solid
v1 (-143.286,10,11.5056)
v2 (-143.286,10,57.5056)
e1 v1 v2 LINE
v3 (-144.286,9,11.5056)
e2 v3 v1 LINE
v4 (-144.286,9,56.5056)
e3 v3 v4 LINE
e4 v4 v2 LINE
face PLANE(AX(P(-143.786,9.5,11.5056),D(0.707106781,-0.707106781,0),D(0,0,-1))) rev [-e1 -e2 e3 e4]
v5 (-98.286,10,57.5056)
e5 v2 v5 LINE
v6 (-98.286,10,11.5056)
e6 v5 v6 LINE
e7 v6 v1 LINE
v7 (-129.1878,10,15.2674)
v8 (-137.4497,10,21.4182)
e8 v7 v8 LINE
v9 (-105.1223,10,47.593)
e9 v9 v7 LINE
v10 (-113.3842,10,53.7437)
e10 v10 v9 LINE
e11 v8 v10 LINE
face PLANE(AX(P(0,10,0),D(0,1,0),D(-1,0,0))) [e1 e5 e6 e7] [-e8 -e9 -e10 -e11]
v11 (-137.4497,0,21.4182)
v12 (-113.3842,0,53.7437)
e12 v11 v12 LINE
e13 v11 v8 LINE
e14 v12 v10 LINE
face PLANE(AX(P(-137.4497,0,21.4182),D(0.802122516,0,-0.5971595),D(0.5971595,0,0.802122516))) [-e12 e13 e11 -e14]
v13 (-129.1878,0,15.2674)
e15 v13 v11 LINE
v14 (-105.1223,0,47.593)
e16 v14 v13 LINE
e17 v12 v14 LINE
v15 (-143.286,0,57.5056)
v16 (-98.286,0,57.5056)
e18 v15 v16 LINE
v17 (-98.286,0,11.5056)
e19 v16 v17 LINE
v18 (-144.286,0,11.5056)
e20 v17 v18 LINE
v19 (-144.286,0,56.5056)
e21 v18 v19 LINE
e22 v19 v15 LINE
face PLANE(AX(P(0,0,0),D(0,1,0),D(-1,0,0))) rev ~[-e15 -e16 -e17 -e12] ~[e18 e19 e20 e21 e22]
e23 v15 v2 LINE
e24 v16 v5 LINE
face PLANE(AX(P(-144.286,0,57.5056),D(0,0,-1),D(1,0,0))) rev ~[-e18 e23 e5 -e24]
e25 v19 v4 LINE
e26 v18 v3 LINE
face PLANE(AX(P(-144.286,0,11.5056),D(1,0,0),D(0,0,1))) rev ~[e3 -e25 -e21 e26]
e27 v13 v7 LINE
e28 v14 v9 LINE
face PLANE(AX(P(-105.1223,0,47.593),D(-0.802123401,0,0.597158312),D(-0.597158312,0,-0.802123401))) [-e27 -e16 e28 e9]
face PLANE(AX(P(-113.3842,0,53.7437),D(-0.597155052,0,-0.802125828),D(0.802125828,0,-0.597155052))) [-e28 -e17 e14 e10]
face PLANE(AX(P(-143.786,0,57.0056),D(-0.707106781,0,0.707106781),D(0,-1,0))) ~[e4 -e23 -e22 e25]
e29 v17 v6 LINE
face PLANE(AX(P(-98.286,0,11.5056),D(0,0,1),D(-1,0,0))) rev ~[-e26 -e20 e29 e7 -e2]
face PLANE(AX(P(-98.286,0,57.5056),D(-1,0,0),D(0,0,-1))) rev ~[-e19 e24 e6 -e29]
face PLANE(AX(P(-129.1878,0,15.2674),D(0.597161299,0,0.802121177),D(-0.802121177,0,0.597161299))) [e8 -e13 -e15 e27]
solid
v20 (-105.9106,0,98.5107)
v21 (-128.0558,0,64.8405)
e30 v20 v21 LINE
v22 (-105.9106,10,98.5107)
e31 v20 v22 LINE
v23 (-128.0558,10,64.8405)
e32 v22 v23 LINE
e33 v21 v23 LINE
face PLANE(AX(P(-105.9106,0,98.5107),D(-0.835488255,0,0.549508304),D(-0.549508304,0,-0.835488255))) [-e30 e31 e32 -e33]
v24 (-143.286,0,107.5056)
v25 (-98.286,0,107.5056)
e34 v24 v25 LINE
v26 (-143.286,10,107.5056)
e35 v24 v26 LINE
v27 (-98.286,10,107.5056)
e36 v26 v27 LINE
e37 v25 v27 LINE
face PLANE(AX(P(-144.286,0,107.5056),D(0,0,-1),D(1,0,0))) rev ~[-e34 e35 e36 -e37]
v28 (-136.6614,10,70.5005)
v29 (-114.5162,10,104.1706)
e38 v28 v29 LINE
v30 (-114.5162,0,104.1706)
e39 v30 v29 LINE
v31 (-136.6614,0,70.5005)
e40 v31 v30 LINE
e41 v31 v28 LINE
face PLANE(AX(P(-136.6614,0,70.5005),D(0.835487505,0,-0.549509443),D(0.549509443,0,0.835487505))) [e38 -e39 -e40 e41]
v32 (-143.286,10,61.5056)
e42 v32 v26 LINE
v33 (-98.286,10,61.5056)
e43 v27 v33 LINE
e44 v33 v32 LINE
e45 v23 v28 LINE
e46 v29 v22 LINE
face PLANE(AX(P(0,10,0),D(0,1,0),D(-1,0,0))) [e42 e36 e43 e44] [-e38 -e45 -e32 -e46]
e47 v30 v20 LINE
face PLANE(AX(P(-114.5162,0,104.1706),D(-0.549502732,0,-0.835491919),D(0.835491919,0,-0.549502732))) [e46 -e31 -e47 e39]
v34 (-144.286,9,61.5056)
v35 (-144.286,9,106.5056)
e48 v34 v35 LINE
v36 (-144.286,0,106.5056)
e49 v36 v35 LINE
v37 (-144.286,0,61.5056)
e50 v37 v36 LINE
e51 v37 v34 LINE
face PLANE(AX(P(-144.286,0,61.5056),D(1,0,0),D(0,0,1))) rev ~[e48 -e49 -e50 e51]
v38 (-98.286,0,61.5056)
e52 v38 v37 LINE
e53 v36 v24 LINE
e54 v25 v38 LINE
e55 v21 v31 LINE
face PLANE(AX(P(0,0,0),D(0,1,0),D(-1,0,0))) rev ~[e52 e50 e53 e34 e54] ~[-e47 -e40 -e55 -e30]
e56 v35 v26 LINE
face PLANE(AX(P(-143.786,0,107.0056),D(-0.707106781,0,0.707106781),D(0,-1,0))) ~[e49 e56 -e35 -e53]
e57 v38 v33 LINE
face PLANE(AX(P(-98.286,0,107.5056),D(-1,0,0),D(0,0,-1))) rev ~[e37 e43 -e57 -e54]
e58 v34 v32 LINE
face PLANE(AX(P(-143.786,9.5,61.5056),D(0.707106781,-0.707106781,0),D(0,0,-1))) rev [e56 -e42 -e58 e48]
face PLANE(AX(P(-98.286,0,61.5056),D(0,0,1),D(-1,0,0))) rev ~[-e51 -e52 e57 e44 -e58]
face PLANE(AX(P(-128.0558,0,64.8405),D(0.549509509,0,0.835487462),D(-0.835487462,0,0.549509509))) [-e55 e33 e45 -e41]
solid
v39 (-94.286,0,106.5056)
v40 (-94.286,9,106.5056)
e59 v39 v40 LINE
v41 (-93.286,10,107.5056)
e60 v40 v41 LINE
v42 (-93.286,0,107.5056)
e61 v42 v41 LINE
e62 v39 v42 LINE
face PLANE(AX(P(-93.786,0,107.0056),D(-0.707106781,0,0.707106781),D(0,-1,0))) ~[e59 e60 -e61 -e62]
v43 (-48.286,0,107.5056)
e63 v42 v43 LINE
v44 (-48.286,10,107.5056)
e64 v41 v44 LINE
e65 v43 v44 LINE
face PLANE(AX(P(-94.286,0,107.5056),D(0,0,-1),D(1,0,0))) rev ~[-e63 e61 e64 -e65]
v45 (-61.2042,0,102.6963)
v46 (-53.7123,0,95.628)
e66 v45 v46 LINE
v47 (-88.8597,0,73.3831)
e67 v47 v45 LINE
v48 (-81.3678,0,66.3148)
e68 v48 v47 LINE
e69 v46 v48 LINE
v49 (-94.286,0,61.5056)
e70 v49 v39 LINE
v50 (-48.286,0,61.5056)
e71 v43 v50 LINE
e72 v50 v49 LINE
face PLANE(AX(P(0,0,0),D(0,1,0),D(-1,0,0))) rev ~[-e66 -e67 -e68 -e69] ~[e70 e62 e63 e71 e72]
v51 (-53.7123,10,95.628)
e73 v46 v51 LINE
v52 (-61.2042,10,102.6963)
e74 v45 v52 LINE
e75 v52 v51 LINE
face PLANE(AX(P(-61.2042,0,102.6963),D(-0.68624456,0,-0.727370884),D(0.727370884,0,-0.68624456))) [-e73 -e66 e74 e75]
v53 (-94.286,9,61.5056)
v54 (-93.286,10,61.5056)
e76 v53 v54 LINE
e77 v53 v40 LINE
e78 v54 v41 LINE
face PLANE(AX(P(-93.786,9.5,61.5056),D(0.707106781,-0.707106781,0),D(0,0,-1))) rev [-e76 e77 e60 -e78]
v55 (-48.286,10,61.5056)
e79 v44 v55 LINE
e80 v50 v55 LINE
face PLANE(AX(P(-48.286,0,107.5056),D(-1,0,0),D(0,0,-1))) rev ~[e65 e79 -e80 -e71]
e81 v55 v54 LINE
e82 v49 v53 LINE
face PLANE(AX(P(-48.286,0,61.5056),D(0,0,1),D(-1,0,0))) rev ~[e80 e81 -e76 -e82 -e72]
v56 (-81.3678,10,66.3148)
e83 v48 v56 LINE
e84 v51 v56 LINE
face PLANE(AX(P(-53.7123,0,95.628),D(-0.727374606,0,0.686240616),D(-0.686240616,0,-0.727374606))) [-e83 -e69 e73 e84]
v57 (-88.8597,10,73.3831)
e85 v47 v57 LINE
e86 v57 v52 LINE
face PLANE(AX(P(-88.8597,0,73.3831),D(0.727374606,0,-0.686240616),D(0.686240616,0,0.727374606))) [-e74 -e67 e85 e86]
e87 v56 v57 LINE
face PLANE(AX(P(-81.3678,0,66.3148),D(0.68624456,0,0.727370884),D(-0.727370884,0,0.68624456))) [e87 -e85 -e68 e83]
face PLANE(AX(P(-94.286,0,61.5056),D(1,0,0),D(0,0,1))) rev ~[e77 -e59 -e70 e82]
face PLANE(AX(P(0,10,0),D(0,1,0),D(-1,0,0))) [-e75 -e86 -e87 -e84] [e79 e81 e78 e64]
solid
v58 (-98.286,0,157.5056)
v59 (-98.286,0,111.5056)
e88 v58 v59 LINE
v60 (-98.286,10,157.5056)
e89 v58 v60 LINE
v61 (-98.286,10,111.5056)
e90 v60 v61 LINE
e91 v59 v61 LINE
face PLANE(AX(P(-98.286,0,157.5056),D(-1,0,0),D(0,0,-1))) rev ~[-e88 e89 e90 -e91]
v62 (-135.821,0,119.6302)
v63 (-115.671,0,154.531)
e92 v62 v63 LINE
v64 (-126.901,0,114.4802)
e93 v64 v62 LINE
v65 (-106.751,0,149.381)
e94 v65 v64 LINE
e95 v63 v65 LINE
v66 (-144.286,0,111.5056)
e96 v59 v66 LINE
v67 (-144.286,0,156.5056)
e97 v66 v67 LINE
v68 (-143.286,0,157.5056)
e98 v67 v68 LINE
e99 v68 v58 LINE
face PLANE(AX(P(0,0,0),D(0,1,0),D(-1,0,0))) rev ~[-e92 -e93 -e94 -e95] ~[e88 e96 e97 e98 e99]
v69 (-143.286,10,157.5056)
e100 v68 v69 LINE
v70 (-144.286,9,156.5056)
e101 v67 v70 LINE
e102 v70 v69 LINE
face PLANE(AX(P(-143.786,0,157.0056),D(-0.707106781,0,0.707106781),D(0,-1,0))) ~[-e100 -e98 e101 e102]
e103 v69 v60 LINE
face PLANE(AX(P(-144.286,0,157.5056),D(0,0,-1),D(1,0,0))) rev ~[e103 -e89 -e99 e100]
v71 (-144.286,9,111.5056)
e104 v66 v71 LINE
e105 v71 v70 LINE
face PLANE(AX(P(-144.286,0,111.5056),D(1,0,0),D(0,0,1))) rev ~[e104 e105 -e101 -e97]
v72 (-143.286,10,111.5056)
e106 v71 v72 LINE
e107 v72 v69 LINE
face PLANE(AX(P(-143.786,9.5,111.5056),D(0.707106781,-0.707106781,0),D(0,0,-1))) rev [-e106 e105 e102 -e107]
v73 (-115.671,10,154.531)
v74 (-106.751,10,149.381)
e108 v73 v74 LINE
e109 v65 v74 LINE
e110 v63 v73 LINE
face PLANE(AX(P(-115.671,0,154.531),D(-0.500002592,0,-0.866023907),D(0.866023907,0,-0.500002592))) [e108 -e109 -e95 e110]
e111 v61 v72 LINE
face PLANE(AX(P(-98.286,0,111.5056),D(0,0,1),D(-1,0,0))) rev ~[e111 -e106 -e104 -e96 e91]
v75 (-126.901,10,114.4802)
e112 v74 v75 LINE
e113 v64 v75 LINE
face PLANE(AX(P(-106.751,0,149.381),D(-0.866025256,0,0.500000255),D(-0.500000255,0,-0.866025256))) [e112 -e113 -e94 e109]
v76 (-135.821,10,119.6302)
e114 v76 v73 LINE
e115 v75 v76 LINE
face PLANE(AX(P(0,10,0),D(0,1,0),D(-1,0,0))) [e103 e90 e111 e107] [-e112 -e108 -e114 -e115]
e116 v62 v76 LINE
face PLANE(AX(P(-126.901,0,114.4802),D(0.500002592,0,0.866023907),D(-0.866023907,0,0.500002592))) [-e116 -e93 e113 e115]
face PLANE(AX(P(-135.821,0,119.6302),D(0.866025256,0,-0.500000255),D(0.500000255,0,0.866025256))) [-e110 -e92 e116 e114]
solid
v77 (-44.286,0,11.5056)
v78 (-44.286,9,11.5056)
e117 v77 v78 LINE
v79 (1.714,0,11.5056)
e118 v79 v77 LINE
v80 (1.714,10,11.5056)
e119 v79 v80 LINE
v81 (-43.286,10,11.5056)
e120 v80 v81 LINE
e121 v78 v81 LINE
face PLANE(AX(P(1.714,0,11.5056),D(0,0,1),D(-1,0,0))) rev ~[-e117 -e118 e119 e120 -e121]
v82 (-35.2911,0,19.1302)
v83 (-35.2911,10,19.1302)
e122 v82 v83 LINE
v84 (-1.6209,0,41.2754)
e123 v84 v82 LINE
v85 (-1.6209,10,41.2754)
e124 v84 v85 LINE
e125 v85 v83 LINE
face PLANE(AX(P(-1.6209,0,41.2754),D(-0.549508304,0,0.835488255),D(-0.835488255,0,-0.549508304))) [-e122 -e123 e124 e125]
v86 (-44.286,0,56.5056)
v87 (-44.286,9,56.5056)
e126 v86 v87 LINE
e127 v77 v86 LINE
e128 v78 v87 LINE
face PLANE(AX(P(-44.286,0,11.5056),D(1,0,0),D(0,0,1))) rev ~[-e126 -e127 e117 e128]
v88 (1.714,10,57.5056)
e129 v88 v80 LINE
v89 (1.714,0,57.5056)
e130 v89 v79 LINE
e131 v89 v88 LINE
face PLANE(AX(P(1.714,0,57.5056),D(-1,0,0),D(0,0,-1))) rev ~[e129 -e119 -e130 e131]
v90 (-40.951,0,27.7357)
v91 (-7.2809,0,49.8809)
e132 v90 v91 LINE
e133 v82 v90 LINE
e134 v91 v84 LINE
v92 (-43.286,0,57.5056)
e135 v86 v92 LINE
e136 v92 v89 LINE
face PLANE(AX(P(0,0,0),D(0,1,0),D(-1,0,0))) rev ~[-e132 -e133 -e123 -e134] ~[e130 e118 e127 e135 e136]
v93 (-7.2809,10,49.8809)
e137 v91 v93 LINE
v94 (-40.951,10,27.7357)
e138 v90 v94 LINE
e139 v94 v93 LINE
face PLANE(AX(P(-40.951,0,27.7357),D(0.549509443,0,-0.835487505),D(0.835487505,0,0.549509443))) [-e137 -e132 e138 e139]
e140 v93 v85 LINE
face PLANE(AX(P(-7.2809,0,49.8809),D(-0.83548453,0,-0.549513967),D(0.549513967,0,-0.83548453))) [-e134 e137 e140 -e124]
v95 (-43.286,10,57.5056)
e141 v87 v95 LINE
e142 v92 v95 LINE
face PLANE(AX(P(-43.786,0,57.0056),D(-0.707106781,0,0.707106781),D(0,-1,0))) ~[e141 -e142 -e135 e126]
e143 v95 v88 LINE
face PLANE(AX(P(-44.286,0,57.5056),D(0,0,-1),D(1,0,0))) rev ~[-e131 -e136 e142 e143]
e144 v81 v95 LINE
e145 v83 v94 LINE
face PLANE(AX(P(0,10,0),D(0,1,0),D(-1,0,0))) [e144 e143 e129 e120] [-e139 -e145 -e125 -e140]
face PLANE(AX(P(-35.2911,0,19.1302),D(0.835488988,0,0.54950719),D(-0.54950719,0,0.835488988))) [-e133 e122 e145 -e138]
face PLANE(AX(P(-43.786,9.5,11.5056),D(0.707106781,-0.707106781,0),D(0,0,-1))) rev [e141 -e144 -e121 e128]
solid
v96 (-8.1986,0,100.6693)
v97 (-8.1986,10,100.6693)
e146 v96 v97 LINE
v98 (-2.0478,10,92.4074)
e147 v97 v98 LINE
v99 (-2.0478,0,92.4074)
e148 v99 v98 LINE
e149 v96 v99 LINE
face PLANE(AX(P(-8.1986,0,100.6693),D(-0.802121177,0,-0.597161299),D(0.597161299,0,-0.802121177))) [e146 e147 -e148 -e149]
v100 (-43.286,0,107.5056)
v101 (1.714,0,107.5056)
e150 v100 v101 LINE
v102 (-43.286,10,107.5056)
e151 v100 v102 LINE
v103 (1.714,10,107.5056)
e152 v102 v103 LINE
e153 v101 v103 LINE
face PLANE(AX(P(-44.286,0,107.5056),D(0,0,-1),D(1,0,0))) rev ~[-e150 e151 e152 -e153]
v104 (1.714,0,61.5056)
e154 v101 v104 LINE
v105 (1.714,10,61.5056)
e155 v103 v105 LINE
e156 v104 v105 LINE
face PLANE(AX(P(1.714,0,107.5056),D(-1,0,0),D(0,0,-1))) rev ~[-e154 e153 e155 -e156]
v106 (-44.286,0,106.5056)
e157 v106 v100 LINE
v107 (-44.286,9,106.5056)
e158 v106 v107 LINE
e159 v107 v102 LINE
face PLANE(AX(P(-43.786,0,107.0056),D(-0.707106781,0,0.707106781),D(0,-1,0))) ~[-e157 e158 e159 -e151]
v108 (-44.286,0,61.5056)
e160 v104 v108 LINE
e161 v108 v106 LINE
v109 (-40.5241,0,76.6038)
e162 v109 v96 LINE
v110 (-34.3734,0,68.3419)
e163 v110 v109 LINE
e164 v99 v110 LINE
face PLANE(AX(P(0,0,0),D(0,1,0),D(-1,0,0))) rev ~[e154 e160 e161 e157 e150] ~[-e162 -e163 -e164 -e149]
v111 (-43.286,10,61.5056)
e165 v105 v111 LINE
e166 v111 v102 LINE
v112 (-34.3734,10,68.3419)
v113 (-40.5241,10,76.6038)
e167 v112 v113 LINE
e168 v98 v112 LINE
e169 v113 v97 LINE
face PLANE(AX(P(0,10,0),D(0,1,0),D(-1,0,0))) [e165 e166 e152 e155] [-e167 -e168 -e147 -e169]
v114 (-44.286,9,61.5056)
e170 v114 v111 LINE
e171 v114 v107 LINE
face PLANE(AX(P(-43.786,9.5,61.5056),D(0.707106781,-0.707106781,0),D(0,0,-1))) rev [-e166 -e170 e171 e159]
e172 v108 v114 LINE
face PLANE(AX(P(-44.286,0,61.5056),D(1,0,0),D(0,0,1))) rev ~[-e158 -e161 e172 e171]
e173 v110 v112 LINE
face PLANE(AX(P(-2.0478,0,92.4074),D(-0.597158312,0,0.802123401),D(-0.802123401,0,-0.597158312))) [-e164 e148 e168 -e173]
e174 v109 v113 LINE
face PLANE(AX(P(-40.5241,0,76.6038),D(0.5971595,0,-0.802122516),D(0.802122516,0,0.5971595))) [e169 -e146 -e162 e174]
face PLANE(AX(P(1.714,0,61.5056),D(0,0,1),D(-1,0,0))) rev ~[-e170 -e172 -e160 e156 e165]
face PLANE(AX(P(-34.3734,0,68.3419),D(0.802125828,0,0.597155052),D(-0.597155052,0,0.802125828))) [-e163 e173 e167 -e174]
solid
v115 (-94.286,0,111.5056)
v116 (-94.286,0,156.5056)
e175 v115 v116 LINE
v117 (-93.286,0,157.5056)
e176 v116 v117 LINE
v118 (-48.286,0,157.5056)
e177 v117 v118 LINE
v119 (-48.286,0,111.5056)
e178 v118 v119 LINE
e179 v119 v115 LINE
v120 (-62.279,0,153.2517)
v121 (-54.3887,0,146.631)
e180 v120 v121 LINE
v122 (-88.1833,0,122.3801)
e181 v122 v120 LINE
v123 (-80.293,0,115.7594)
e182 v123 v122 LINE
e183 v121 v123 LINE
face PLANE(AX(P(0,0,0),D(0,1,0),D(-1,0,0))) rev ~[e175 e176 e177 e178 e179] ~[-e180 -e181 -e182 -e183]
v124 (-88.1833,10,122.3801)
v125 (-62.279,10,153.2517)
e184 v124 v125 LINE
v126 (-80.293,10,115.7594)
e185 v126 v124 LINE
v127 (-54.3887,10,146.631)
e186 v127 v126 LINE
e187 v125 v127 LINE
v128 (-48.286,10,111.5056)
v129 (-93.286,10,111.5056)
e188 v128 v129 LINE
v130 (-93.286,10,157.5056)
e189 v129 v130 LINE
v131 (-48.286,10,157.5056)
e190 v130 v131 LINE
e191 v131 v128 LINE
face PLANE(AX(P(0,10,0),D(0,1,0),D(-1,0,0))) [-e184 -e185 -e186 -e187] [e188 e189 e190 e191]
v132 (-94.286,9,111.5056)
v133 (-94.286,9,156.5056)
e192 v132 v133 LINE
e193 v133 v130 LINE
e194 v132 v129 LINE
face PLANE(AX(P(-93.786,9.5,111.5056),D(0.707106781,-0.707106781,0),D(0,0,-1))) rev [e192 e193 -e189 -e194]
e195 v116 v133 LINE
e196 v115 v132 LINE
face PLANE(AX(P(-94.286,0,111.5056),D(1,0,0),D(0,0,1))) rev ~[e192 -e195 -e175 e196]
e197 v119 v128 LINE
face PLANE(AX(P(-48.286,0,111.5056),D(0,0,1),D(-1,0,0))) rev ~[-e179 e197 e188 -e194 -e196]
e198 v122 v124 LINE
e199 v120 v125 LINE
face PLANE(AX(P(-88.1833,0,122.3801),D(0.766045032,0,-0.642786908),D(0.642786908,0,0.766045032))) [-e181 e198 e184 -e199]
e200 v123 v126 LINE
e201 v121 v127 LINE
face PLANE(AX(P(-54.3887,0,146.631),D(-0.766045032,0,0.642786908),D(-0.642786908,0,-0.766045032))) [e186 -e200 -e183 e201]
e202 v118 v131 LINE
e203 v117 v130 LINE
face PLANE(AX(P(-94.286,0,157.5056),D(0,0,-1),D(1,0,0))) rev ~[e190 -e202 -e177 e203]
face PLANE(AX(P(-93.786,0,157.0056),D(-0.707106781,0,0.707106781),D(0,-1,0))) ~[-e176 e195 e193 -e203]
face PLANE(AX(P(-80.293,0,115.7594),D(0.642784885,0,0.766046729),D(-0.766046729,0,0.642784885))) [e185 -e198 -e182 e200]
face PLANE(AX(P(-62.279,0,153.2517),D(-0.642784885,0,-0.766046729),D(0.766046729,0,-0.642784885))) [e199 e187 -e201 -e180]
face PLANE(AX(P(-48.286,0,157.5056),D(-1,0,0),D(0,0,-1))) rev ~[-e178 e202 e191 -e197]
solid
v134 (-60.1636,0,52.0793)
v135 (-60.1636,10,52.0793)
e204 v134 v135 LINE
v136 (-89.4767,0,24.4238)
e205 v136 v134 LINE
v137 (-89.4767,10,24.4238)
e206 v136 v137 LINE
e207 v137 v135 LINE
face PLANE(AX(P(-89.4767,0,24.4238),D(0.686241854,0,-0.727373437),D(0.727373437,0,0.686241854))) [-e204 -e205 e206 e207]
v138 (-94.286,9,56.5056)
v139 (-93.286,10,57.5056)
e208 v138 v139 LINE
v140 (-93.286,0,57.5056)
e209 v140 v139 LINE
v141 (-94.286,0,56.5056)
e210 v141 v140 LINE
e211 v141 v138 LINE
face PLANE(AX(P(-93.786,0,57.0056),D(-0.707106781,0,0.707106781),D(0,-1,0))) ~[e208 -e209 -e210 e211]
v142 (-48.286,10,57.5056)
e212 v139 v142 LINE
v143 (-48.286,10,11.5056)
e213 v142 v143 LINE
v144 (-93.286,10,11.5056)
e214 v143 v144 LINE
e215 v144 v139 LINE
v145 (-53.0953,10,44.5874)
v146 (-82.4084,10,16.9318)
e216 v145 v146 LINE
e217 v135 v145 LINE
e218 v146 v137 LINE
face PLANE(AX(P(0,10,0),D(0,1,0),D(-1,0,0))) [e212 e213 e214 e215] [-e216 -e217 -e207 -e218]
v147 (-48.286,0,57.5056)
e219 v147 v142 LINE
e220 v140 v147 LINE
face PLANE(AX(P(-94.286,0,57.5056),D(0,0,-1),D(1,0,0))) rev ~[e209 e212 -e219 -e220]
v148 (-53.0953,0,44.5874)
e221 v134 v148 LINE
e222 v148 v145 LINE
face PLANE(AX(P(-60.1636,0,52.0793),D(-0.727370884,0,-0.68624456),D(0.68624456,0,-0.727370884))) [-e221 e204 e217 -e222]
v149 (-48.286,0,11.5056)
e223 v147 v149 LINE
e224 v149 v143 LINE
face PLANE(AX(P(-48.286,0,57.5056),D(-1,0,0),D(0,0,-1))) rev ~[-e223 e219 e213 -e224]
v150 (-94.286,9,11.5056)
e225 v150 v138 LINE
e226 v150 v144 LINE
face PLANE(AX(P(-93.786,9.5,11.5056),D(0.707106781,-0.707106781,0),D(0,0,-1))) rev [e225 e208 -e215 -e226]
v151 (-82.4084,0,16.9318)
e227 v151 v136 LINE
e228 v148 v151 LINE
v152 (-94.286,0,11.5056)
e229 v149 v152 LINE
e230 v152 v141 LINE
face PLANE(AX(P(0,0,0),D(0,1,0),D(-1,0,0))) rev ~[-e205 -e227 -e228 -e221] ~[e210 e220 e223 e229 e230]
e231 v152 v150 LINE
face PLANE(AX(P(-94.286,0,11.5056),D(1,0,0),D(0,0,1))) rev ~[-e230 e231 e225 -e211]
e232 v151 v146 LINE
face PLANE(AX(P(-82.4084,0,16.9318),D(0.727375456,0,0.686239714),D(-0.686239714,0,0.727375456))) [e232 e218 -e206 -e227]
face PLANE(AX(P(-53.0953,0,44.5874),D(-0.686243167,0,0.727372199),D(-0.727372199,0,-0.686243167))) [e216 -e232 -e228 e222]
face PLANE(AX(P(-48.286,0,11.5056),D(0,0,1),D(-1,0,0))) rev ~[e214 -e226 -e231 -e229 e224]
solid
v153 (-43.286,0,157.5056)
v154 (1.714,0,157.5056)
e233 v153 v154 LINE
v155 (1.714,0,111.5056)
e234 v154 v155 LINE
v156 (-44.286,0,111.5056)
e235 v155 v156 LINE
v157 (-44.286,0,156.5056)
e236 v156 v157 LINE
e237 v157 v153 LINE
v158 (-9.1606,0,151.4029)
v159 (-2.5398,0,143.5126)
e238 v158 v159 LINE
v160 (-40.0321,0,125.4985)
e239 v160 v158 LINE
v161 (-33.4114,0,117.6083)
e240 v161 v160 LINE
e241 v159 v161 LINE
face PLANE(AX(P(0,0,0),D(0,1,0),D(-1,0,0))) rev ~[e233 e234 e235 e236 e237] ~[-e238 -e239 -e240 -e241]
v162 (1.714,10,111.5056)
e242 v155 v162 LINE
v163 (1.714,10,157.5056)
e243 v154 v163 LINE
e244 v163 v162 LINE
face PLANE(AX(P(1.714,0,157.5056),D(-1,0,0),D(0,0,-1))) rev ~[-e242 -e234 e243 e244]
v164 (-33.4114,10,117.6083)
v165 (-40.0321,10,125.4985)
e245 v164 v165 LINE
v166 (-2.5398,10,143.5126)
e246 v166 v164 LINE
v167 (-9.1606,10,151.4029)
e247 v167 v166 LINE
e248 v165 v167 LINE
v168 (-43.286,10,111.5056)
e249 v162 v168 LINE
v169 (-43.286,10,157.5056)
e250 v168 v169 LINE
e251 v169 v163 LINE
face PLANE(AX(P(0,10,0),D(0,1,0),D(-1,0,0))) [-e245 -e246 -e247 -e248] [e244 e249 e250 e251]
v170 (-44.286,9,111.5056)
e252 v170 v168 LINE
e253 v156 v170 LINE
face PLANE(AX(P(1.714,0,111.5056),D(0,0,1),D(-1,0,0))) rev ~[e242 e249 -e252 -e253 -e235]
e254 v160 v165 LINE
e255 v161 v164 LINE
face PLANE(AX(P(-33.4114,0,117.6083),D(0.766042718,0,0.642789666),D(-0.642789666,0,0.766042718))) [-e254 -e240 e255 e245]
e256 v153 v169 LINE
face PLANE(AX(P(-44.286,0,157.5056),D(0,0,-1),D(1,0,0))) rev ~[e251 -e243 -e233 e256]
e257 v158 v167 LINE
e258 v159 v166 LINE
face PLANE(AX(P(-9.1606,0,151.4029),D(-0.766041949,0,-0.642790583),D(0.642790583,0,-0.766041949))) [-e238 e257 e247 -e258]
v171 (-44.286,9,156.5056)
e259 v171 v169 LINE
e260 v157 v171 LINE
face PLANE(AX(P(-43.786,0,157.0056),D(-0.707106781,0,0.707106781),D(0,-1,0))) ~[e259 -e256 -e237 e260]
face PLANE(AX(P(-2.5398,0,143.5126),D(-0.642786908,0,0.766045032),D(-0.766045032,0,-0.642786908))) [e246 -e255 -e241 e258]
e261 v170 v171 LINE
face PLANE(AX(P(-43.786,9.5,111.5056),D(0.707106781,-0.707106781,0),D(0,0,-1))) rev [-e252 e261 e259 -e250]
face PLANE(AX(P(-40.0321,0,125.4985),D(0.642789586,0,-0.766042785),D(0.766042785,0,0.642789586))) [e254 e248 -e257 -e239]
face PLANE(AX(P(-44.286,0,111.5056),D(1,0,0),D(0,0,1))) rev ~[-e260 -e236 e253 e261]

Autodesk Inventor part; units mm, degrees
ref_plane "YZ Plane" through (0, 0, 0) normal (1, 0, 0) x (0, 1, 0)
ref_plane "XZ Plane" through (0, 0, 0) normal (0, 1, 0) x (-1, 0, 0)
ref_plane "XY Plane" through (0, 0, 0) normal (0, 0, 1) x (1, 0, 0)
sketch "Sketch1" plane through (0, 0, 0) normal (0, 1, 0) x (-1, 0, 0)
  line L0 (44.286, 57.5056) -> (-1.714, 57.5056)
  line L1 (-1.714, 57.5056) -> (-1.714, 11.5056)
  line L2 (-1.714, 11.5056) -> (44.286, 11.5056)
  line L3 (44.286, 11.5056) -> (44.286, 57.5056)
  line L4 (21.286, 57.5056) -> (21.286, 11.5056) construction
  line L5 (44.286, 34.5056) -> (-1.714, 34.5056) construction
  line L6 (4.8713, 45.3017) -> (21.286, 34.5056) construction
  line L7 (21.286, 34.5056) -> (15.7062, 26.0218) construction
  line L8 (7.2809, 49.8809) -> (1.6209, 41.2754)
  line L9 (1.6209, 41.2754) -> (35.2911, 19.1302)
  line L10 (35.2911, 19.1302) -> (40.951, 27.7357)
  line L11 (40.951, 27.7357) -> (7.2809, 49.8809)
  line L12 (94.286, 57.5056) -> (48.286, 57.5056)
  line L13 (48.286, 57.5056) -> (48.286, 11.5056)
  line L14 (48.286, 11.5056) -> (94.286, 11.5056)
  line L15 (94.286, 11.5056) -> (94.286, 57.5056)
  line L16 (71.286, 57.5056) -> (71.286, 11.5056) construction
  line L17 (94.286, 34.5056) -> (48.286, 34.5056) construction
  line L18 (56.9954, 47.988) -> (71.286, 34.5056) construction
  line L19 (71.286, 34.5056) -> (64.3177, 27.1196) construction
  line L20 (60.1636, 52.0793) -> (53.0953, 44.5874)
  line L21 (53.0953, 44.5874) -> (82.4084, 16.9318)
  line L22 (82.4084, 16.9318) -> (89.4767, 24.4238)
  line L23 (89.4767, 24.4238) -> (60.1636, 52.0793)
  line L24 (144.286, 57.5056) -> (98.286, 57.5056)
  line L25 (98.286, 57.5056) -> (98.286, 11.5056)
  line L26 (98.286, 11.5056) -> (144.286, 11.5056)
  line L27 (144.286, 11.5056) -> (144.286, 57.5056)
  line L28 (121.286, 57.5056) -> (121.286, 11.5056) construction
  line L29 (144.286, 34.5056) -> (98.286, 34.5056) construction
  line L30 (109.5537, 50.2647) -> (121.286, 34.5056) construction
  line L31 (121.286, 34.5056) -> (113.141, 28.4419) construction
  line L32 (113.3842, 53.7437) -> (105.1223, 47.593)
  line L33 (105.1223, 47.593) -> (129.1878, 15.2674)
  line L34 (129.1878, 15.2674) -> (137.4497, 21.4182)
  line L35 (137.4497, 21.4182) -> (113.3842, 53.7437)
  line L36 (44.286, 107.5056) -> (-1.714, 107.5056)
  line L37 (-1.714, 107.5056) -> (-1.714, 61.5056)
  line L38 (-1.714, 61.5056) -> (44.286, 61.5056)
  line L39 (44.286, 61.5056) -> (44.286, 107.5056)
  line L40 (21.286, 107.5056) -> (21.286, 61.5056) construction
  line L41 (44.286, 84.5056) -> (-1.714, 84.5056) construction
  line L42 (5.5268, 96.2378) -> (21.286, 84.5056) construction
  line L43 (21.286, 84.5056) -> (15.2223, 76.3606) construction
  line L44 (8.1986, 100.6693) -> (2.0478, 92.4074)
  line L45 (2.0478, 92.4074) -> (34.3734, 68.3419)
  line L46 (34.3734, 68.3419) -> (40.5241, 76.6038)
  line L47 (40.5241, 76.6038) -> (8.1986, 100.6693)
  line L48 (44.286, 157.5056) -> (-1.714, 157.5056)
  line L49 (-1.714, 157.5056) -> (-1.714, 111.5056)
  line L50 (-1.714, 111.5056) -> (44.286, 111.5056)
  line L51 (44.286, 111.5056) -> (44.286, 157.5056)
  line L52 (21.286, 157.5056) -> (21.286, 111.5056) construction
  line L53 (44.286, 134.5056) -> (-1.714, 134.5056) construction
  line L54 (6.2357, 147.1343) -> (21.286, 134.5056) construction
  line L55 (21.286, 134.5056) -> (14.759, 126.727) construction
  line L56 (9.1606, 151.4029) -> (2.5398, 143.5126)
  line L57 (2.5398, 143.5126) -> (33.4114, 117.6083)
  line L58 (33.4114, 117.6083) -> (40.0321, 125.4985)
  line L59 (40.0321, 125.4985) -> (9.1606, 151.4029)
  line L60 (94.286, 107.5056) -> (48.286, 107.5056)
  line L61 (48.286, 107.5056) -> (48.286, 61.5056)
  line L62 (48.286, 61.5056) -> (94.286, 61.5056)
  line L63 (94.286, 61.5056) -> (94.286, 107.5056)
  line L64 (71.286, 107.5056) -> (71.286, 61.5056) construction
  line L65 (94.286, 84.5056) -> (48.286, 84.5056) construction
  line L66 (57.8035, 98.7961) -> (71.286, 84.5056) construction
  line L67 (71.286, 84.5056) -> (63.9001, 77.5373) construction
  line L68 (61.2042, 102.6963) -> (53.7123, 95.628)
  line L69 (53.7123, 95.628) -> (81.3678, 66.3148)
  line L70 (81.3678, 66.3148) -> (88.8597, 73.3831)
  line L71 (88.8597, 73.3831) -> (61.2042, 102.6963)
  line L72 (94.286, 157.5056) -> (48.286, 157.5056)
  line L73 (48.286, 157.5056) -> (48.286, 111.5056)
  line L74 (48.286, 111.5056) -> (94.286, 111.5056)
  line L75 (94.286, 111.5056) -> (94.286, 157.5056)
  line L76 (71.286, 157.5056) -> (71.286, 111.5056) construction
  line L77 (94.286, 134.5056) -> (48.286, 134.5056) construction
  line L78 (58.6573, 149.5559) -> (71.286, 134.5056) construction
  line L79 (71.286, 134.5056) -> (63.5074, 127.9786) construction
  line L80 (62.279, 153.2517) -> (54.3887, 146.631)
  line L81 (54.3887, 146.631) -> (80.293, 115.7594)
  line L82 (80.293, 115.7594) -> (88.1833, 122.3801)
  line L83 (88.1833, 122.3801) -> (62.279, 153.2517)
  line L84 (144.286, 107.5056) -> (98.286, 107.5056)
  line L85 (98.286, 107.5056) -> (98.286, 61.5056)
  line L86 (98.286, 61.5056) -> (144.286, 61.5056)
  line L87 (144.286, 61.5056) -> (144.286, 107.5056)
  line L88 (121.286, 107.5056) -> (121.286, 61.5056) construction
  line L89 (144.286, 84.5056) -> (98.286, 84.5056) construction
  line L90 (110.4899, 100.9202) -> (121.286, 84.5056) construction
  line L91 (121.286, 84.5056) -> (112.8023, 78.9257) construction
  line L92 (114.5162, 104.1706) -> (105.9106, 98.5107)
  line L93 (105.9106, 98.5107) -> (128.0558, 64.8405)
  line L94 (128.0558, 64.8405) -> (136.6614, 70.5005)
  line L95 (136.6614, 70.5005) -> (114.5162, 104.1706)
  line L96 (144.286, 157.5056) -> (98.286, 157.5056)
  line L97 (98.286, 157.5056) -> (98.286, 111.5056)
  line L98 (98.286, 111.5056) -> (144.286, 111.5056)
  line L99 (144.286, 111.5056) -> (144.286, 157.5056)
  line L100 (121.286, 157.5056) -> (121.286, 111.5056) construction
  line L101 (144.286, 134.5056) -> (98.286, 134.5056) construction
  line L102 (111.4626, 151.5202) -> (121.286, 134.5056) construction
  line L103 (121.286, 134.5056) -> (112.4922, 129.4285) construction
  line L104 (115.671, 154.531) -> (106.751, 149.381)
  line L105 (106.751, 149.381) -> (126.901, 114.4802)
  line L106 (126.901, 114.4802) -> (135.821, 119.6302)
  line L107 (135.821, 119.6302) -> (115.671, 154.531)
  dimension "w" = 46
  dimension "d65" = 46
  dimension "d" = 10.3
  dimension "d67" = 40.3
  dimension "d68" = 146.667
  dimension "d69" = 46
  dimension "d70" = 46
  dimension "d71" = 10.3
  dimension "d72" = 40.3
  dimension "d73" = 136.667
  dimension "d76" = 46
  dimension "d77" = 46
  dimension "d78" = 10.3
  dimension "d79" = 40.3
  dimension "d80" = 126.667
  dimension "d83" = 46
  dimension "d84" = 46
  dimension "d85" = 10.3
  dimension "d86" = 40.3
  dimension "d87" = 143.333
  dimension "d90" = 46
  dimension "d91" = 46
  dimension "d92" = 10.3
  dimension "d93" = 40.3
  dimension "d94" = 140
  dimension "d97" = 46
  dimension "d98" = 46
  dimension "d99" = 10.3
  dimension "d100" = 40.3
  dimension "d101" = 133.333
  dimension "d104" = 46
  dimension "d105" = 46
  dimension "d106" = 10.3
  dimension "d107" = 40.3
  dimension "d108" = 130
  dimension "d111" = 46
  dimension "d112" = 46
  dimension "d113" = 10.3
  dimension "d114" = 40.3
  dimension "d115" = 123.333
  dimension "d118" = 46
  dimension "d119" = 46
  dimension "d120" = 10.3
  dimension "d121" = 40.3
  dimension "d122" = 120
extrude "Extrusion1" add sketch "Sketch1" along normal blind 10
chamfer "Chamfer1" distance 1 angle 45 18 edges at (-144.286, 10, 134.5056) (-144.286, 10, 84.5056) (-144.286, 10, 34.5056) (-94.286, 10, 134.5056) (-94.286, 10, 84.5056) (-94.286, 10, 34.5056) (-44.286, 10, 34.5056) (-44.286, 10, 84.5056) (-44.286, 10, 134.5056) (-144.286, 5, 157.5056) (-144.286, 5, 107.5056) (-144.286, 5, 57.5056) (-94.286, 5, 157.5056) (-94.286, 5, 107.5056) (-94.286, 5, 57.5056) (-44.286, 5, 157.5056) (-44.286, 5, 107.5056) (-44.286, 5, 57.5056)
equation "\"d68\" = a0 + 8 * ad"
equation "\"d73\" = a0 + 5 * ad"
equation "\"d80\" = a0 + 2 * ad"
equation "\"d87\" = a0 + 7 * ad"
equation "\"d94\" = a0 + 6 * ad"
equation "\"d101\" = a0 + 4 * ad"
equation "\"d108\" = a0 + 3 * ad"
equation "\"d115\" = a0 + ad"
equation "\"d122\" = a0 + 0 * ad"
equation "\"ad\" = 3.33333deg"
equation "\"d74\" = 0 * d75"
equation "\"d75\" = 3.333333deg"
equation "\"d81\" = 0 * d82"
equation "\"d82\" = 3.333333deg"
equation "\"d88\" = 0 * d89"
equation "\"d89\" = 3.333333deg"
equation "\"d95\" = 0 * d96"
equation "\"d96\" = 3.333333deg"
equation "\"d102\" = 0 * d103"
equation "\"d103\" = 3.333333deg"
equation "\"d109\" = 0 * d110"
equation "\"d110\" = 3.333333deg"
equation "\"d116\" = 0 * d117"
equation "\"d117\" = 3.333333deg"
equation "\"d123\" = 0 * d124"
equation "\"d124\" = 3.333333deg"
equation "\"a0\" = 120deg"
properties part number "magnet-54-offset-36"
